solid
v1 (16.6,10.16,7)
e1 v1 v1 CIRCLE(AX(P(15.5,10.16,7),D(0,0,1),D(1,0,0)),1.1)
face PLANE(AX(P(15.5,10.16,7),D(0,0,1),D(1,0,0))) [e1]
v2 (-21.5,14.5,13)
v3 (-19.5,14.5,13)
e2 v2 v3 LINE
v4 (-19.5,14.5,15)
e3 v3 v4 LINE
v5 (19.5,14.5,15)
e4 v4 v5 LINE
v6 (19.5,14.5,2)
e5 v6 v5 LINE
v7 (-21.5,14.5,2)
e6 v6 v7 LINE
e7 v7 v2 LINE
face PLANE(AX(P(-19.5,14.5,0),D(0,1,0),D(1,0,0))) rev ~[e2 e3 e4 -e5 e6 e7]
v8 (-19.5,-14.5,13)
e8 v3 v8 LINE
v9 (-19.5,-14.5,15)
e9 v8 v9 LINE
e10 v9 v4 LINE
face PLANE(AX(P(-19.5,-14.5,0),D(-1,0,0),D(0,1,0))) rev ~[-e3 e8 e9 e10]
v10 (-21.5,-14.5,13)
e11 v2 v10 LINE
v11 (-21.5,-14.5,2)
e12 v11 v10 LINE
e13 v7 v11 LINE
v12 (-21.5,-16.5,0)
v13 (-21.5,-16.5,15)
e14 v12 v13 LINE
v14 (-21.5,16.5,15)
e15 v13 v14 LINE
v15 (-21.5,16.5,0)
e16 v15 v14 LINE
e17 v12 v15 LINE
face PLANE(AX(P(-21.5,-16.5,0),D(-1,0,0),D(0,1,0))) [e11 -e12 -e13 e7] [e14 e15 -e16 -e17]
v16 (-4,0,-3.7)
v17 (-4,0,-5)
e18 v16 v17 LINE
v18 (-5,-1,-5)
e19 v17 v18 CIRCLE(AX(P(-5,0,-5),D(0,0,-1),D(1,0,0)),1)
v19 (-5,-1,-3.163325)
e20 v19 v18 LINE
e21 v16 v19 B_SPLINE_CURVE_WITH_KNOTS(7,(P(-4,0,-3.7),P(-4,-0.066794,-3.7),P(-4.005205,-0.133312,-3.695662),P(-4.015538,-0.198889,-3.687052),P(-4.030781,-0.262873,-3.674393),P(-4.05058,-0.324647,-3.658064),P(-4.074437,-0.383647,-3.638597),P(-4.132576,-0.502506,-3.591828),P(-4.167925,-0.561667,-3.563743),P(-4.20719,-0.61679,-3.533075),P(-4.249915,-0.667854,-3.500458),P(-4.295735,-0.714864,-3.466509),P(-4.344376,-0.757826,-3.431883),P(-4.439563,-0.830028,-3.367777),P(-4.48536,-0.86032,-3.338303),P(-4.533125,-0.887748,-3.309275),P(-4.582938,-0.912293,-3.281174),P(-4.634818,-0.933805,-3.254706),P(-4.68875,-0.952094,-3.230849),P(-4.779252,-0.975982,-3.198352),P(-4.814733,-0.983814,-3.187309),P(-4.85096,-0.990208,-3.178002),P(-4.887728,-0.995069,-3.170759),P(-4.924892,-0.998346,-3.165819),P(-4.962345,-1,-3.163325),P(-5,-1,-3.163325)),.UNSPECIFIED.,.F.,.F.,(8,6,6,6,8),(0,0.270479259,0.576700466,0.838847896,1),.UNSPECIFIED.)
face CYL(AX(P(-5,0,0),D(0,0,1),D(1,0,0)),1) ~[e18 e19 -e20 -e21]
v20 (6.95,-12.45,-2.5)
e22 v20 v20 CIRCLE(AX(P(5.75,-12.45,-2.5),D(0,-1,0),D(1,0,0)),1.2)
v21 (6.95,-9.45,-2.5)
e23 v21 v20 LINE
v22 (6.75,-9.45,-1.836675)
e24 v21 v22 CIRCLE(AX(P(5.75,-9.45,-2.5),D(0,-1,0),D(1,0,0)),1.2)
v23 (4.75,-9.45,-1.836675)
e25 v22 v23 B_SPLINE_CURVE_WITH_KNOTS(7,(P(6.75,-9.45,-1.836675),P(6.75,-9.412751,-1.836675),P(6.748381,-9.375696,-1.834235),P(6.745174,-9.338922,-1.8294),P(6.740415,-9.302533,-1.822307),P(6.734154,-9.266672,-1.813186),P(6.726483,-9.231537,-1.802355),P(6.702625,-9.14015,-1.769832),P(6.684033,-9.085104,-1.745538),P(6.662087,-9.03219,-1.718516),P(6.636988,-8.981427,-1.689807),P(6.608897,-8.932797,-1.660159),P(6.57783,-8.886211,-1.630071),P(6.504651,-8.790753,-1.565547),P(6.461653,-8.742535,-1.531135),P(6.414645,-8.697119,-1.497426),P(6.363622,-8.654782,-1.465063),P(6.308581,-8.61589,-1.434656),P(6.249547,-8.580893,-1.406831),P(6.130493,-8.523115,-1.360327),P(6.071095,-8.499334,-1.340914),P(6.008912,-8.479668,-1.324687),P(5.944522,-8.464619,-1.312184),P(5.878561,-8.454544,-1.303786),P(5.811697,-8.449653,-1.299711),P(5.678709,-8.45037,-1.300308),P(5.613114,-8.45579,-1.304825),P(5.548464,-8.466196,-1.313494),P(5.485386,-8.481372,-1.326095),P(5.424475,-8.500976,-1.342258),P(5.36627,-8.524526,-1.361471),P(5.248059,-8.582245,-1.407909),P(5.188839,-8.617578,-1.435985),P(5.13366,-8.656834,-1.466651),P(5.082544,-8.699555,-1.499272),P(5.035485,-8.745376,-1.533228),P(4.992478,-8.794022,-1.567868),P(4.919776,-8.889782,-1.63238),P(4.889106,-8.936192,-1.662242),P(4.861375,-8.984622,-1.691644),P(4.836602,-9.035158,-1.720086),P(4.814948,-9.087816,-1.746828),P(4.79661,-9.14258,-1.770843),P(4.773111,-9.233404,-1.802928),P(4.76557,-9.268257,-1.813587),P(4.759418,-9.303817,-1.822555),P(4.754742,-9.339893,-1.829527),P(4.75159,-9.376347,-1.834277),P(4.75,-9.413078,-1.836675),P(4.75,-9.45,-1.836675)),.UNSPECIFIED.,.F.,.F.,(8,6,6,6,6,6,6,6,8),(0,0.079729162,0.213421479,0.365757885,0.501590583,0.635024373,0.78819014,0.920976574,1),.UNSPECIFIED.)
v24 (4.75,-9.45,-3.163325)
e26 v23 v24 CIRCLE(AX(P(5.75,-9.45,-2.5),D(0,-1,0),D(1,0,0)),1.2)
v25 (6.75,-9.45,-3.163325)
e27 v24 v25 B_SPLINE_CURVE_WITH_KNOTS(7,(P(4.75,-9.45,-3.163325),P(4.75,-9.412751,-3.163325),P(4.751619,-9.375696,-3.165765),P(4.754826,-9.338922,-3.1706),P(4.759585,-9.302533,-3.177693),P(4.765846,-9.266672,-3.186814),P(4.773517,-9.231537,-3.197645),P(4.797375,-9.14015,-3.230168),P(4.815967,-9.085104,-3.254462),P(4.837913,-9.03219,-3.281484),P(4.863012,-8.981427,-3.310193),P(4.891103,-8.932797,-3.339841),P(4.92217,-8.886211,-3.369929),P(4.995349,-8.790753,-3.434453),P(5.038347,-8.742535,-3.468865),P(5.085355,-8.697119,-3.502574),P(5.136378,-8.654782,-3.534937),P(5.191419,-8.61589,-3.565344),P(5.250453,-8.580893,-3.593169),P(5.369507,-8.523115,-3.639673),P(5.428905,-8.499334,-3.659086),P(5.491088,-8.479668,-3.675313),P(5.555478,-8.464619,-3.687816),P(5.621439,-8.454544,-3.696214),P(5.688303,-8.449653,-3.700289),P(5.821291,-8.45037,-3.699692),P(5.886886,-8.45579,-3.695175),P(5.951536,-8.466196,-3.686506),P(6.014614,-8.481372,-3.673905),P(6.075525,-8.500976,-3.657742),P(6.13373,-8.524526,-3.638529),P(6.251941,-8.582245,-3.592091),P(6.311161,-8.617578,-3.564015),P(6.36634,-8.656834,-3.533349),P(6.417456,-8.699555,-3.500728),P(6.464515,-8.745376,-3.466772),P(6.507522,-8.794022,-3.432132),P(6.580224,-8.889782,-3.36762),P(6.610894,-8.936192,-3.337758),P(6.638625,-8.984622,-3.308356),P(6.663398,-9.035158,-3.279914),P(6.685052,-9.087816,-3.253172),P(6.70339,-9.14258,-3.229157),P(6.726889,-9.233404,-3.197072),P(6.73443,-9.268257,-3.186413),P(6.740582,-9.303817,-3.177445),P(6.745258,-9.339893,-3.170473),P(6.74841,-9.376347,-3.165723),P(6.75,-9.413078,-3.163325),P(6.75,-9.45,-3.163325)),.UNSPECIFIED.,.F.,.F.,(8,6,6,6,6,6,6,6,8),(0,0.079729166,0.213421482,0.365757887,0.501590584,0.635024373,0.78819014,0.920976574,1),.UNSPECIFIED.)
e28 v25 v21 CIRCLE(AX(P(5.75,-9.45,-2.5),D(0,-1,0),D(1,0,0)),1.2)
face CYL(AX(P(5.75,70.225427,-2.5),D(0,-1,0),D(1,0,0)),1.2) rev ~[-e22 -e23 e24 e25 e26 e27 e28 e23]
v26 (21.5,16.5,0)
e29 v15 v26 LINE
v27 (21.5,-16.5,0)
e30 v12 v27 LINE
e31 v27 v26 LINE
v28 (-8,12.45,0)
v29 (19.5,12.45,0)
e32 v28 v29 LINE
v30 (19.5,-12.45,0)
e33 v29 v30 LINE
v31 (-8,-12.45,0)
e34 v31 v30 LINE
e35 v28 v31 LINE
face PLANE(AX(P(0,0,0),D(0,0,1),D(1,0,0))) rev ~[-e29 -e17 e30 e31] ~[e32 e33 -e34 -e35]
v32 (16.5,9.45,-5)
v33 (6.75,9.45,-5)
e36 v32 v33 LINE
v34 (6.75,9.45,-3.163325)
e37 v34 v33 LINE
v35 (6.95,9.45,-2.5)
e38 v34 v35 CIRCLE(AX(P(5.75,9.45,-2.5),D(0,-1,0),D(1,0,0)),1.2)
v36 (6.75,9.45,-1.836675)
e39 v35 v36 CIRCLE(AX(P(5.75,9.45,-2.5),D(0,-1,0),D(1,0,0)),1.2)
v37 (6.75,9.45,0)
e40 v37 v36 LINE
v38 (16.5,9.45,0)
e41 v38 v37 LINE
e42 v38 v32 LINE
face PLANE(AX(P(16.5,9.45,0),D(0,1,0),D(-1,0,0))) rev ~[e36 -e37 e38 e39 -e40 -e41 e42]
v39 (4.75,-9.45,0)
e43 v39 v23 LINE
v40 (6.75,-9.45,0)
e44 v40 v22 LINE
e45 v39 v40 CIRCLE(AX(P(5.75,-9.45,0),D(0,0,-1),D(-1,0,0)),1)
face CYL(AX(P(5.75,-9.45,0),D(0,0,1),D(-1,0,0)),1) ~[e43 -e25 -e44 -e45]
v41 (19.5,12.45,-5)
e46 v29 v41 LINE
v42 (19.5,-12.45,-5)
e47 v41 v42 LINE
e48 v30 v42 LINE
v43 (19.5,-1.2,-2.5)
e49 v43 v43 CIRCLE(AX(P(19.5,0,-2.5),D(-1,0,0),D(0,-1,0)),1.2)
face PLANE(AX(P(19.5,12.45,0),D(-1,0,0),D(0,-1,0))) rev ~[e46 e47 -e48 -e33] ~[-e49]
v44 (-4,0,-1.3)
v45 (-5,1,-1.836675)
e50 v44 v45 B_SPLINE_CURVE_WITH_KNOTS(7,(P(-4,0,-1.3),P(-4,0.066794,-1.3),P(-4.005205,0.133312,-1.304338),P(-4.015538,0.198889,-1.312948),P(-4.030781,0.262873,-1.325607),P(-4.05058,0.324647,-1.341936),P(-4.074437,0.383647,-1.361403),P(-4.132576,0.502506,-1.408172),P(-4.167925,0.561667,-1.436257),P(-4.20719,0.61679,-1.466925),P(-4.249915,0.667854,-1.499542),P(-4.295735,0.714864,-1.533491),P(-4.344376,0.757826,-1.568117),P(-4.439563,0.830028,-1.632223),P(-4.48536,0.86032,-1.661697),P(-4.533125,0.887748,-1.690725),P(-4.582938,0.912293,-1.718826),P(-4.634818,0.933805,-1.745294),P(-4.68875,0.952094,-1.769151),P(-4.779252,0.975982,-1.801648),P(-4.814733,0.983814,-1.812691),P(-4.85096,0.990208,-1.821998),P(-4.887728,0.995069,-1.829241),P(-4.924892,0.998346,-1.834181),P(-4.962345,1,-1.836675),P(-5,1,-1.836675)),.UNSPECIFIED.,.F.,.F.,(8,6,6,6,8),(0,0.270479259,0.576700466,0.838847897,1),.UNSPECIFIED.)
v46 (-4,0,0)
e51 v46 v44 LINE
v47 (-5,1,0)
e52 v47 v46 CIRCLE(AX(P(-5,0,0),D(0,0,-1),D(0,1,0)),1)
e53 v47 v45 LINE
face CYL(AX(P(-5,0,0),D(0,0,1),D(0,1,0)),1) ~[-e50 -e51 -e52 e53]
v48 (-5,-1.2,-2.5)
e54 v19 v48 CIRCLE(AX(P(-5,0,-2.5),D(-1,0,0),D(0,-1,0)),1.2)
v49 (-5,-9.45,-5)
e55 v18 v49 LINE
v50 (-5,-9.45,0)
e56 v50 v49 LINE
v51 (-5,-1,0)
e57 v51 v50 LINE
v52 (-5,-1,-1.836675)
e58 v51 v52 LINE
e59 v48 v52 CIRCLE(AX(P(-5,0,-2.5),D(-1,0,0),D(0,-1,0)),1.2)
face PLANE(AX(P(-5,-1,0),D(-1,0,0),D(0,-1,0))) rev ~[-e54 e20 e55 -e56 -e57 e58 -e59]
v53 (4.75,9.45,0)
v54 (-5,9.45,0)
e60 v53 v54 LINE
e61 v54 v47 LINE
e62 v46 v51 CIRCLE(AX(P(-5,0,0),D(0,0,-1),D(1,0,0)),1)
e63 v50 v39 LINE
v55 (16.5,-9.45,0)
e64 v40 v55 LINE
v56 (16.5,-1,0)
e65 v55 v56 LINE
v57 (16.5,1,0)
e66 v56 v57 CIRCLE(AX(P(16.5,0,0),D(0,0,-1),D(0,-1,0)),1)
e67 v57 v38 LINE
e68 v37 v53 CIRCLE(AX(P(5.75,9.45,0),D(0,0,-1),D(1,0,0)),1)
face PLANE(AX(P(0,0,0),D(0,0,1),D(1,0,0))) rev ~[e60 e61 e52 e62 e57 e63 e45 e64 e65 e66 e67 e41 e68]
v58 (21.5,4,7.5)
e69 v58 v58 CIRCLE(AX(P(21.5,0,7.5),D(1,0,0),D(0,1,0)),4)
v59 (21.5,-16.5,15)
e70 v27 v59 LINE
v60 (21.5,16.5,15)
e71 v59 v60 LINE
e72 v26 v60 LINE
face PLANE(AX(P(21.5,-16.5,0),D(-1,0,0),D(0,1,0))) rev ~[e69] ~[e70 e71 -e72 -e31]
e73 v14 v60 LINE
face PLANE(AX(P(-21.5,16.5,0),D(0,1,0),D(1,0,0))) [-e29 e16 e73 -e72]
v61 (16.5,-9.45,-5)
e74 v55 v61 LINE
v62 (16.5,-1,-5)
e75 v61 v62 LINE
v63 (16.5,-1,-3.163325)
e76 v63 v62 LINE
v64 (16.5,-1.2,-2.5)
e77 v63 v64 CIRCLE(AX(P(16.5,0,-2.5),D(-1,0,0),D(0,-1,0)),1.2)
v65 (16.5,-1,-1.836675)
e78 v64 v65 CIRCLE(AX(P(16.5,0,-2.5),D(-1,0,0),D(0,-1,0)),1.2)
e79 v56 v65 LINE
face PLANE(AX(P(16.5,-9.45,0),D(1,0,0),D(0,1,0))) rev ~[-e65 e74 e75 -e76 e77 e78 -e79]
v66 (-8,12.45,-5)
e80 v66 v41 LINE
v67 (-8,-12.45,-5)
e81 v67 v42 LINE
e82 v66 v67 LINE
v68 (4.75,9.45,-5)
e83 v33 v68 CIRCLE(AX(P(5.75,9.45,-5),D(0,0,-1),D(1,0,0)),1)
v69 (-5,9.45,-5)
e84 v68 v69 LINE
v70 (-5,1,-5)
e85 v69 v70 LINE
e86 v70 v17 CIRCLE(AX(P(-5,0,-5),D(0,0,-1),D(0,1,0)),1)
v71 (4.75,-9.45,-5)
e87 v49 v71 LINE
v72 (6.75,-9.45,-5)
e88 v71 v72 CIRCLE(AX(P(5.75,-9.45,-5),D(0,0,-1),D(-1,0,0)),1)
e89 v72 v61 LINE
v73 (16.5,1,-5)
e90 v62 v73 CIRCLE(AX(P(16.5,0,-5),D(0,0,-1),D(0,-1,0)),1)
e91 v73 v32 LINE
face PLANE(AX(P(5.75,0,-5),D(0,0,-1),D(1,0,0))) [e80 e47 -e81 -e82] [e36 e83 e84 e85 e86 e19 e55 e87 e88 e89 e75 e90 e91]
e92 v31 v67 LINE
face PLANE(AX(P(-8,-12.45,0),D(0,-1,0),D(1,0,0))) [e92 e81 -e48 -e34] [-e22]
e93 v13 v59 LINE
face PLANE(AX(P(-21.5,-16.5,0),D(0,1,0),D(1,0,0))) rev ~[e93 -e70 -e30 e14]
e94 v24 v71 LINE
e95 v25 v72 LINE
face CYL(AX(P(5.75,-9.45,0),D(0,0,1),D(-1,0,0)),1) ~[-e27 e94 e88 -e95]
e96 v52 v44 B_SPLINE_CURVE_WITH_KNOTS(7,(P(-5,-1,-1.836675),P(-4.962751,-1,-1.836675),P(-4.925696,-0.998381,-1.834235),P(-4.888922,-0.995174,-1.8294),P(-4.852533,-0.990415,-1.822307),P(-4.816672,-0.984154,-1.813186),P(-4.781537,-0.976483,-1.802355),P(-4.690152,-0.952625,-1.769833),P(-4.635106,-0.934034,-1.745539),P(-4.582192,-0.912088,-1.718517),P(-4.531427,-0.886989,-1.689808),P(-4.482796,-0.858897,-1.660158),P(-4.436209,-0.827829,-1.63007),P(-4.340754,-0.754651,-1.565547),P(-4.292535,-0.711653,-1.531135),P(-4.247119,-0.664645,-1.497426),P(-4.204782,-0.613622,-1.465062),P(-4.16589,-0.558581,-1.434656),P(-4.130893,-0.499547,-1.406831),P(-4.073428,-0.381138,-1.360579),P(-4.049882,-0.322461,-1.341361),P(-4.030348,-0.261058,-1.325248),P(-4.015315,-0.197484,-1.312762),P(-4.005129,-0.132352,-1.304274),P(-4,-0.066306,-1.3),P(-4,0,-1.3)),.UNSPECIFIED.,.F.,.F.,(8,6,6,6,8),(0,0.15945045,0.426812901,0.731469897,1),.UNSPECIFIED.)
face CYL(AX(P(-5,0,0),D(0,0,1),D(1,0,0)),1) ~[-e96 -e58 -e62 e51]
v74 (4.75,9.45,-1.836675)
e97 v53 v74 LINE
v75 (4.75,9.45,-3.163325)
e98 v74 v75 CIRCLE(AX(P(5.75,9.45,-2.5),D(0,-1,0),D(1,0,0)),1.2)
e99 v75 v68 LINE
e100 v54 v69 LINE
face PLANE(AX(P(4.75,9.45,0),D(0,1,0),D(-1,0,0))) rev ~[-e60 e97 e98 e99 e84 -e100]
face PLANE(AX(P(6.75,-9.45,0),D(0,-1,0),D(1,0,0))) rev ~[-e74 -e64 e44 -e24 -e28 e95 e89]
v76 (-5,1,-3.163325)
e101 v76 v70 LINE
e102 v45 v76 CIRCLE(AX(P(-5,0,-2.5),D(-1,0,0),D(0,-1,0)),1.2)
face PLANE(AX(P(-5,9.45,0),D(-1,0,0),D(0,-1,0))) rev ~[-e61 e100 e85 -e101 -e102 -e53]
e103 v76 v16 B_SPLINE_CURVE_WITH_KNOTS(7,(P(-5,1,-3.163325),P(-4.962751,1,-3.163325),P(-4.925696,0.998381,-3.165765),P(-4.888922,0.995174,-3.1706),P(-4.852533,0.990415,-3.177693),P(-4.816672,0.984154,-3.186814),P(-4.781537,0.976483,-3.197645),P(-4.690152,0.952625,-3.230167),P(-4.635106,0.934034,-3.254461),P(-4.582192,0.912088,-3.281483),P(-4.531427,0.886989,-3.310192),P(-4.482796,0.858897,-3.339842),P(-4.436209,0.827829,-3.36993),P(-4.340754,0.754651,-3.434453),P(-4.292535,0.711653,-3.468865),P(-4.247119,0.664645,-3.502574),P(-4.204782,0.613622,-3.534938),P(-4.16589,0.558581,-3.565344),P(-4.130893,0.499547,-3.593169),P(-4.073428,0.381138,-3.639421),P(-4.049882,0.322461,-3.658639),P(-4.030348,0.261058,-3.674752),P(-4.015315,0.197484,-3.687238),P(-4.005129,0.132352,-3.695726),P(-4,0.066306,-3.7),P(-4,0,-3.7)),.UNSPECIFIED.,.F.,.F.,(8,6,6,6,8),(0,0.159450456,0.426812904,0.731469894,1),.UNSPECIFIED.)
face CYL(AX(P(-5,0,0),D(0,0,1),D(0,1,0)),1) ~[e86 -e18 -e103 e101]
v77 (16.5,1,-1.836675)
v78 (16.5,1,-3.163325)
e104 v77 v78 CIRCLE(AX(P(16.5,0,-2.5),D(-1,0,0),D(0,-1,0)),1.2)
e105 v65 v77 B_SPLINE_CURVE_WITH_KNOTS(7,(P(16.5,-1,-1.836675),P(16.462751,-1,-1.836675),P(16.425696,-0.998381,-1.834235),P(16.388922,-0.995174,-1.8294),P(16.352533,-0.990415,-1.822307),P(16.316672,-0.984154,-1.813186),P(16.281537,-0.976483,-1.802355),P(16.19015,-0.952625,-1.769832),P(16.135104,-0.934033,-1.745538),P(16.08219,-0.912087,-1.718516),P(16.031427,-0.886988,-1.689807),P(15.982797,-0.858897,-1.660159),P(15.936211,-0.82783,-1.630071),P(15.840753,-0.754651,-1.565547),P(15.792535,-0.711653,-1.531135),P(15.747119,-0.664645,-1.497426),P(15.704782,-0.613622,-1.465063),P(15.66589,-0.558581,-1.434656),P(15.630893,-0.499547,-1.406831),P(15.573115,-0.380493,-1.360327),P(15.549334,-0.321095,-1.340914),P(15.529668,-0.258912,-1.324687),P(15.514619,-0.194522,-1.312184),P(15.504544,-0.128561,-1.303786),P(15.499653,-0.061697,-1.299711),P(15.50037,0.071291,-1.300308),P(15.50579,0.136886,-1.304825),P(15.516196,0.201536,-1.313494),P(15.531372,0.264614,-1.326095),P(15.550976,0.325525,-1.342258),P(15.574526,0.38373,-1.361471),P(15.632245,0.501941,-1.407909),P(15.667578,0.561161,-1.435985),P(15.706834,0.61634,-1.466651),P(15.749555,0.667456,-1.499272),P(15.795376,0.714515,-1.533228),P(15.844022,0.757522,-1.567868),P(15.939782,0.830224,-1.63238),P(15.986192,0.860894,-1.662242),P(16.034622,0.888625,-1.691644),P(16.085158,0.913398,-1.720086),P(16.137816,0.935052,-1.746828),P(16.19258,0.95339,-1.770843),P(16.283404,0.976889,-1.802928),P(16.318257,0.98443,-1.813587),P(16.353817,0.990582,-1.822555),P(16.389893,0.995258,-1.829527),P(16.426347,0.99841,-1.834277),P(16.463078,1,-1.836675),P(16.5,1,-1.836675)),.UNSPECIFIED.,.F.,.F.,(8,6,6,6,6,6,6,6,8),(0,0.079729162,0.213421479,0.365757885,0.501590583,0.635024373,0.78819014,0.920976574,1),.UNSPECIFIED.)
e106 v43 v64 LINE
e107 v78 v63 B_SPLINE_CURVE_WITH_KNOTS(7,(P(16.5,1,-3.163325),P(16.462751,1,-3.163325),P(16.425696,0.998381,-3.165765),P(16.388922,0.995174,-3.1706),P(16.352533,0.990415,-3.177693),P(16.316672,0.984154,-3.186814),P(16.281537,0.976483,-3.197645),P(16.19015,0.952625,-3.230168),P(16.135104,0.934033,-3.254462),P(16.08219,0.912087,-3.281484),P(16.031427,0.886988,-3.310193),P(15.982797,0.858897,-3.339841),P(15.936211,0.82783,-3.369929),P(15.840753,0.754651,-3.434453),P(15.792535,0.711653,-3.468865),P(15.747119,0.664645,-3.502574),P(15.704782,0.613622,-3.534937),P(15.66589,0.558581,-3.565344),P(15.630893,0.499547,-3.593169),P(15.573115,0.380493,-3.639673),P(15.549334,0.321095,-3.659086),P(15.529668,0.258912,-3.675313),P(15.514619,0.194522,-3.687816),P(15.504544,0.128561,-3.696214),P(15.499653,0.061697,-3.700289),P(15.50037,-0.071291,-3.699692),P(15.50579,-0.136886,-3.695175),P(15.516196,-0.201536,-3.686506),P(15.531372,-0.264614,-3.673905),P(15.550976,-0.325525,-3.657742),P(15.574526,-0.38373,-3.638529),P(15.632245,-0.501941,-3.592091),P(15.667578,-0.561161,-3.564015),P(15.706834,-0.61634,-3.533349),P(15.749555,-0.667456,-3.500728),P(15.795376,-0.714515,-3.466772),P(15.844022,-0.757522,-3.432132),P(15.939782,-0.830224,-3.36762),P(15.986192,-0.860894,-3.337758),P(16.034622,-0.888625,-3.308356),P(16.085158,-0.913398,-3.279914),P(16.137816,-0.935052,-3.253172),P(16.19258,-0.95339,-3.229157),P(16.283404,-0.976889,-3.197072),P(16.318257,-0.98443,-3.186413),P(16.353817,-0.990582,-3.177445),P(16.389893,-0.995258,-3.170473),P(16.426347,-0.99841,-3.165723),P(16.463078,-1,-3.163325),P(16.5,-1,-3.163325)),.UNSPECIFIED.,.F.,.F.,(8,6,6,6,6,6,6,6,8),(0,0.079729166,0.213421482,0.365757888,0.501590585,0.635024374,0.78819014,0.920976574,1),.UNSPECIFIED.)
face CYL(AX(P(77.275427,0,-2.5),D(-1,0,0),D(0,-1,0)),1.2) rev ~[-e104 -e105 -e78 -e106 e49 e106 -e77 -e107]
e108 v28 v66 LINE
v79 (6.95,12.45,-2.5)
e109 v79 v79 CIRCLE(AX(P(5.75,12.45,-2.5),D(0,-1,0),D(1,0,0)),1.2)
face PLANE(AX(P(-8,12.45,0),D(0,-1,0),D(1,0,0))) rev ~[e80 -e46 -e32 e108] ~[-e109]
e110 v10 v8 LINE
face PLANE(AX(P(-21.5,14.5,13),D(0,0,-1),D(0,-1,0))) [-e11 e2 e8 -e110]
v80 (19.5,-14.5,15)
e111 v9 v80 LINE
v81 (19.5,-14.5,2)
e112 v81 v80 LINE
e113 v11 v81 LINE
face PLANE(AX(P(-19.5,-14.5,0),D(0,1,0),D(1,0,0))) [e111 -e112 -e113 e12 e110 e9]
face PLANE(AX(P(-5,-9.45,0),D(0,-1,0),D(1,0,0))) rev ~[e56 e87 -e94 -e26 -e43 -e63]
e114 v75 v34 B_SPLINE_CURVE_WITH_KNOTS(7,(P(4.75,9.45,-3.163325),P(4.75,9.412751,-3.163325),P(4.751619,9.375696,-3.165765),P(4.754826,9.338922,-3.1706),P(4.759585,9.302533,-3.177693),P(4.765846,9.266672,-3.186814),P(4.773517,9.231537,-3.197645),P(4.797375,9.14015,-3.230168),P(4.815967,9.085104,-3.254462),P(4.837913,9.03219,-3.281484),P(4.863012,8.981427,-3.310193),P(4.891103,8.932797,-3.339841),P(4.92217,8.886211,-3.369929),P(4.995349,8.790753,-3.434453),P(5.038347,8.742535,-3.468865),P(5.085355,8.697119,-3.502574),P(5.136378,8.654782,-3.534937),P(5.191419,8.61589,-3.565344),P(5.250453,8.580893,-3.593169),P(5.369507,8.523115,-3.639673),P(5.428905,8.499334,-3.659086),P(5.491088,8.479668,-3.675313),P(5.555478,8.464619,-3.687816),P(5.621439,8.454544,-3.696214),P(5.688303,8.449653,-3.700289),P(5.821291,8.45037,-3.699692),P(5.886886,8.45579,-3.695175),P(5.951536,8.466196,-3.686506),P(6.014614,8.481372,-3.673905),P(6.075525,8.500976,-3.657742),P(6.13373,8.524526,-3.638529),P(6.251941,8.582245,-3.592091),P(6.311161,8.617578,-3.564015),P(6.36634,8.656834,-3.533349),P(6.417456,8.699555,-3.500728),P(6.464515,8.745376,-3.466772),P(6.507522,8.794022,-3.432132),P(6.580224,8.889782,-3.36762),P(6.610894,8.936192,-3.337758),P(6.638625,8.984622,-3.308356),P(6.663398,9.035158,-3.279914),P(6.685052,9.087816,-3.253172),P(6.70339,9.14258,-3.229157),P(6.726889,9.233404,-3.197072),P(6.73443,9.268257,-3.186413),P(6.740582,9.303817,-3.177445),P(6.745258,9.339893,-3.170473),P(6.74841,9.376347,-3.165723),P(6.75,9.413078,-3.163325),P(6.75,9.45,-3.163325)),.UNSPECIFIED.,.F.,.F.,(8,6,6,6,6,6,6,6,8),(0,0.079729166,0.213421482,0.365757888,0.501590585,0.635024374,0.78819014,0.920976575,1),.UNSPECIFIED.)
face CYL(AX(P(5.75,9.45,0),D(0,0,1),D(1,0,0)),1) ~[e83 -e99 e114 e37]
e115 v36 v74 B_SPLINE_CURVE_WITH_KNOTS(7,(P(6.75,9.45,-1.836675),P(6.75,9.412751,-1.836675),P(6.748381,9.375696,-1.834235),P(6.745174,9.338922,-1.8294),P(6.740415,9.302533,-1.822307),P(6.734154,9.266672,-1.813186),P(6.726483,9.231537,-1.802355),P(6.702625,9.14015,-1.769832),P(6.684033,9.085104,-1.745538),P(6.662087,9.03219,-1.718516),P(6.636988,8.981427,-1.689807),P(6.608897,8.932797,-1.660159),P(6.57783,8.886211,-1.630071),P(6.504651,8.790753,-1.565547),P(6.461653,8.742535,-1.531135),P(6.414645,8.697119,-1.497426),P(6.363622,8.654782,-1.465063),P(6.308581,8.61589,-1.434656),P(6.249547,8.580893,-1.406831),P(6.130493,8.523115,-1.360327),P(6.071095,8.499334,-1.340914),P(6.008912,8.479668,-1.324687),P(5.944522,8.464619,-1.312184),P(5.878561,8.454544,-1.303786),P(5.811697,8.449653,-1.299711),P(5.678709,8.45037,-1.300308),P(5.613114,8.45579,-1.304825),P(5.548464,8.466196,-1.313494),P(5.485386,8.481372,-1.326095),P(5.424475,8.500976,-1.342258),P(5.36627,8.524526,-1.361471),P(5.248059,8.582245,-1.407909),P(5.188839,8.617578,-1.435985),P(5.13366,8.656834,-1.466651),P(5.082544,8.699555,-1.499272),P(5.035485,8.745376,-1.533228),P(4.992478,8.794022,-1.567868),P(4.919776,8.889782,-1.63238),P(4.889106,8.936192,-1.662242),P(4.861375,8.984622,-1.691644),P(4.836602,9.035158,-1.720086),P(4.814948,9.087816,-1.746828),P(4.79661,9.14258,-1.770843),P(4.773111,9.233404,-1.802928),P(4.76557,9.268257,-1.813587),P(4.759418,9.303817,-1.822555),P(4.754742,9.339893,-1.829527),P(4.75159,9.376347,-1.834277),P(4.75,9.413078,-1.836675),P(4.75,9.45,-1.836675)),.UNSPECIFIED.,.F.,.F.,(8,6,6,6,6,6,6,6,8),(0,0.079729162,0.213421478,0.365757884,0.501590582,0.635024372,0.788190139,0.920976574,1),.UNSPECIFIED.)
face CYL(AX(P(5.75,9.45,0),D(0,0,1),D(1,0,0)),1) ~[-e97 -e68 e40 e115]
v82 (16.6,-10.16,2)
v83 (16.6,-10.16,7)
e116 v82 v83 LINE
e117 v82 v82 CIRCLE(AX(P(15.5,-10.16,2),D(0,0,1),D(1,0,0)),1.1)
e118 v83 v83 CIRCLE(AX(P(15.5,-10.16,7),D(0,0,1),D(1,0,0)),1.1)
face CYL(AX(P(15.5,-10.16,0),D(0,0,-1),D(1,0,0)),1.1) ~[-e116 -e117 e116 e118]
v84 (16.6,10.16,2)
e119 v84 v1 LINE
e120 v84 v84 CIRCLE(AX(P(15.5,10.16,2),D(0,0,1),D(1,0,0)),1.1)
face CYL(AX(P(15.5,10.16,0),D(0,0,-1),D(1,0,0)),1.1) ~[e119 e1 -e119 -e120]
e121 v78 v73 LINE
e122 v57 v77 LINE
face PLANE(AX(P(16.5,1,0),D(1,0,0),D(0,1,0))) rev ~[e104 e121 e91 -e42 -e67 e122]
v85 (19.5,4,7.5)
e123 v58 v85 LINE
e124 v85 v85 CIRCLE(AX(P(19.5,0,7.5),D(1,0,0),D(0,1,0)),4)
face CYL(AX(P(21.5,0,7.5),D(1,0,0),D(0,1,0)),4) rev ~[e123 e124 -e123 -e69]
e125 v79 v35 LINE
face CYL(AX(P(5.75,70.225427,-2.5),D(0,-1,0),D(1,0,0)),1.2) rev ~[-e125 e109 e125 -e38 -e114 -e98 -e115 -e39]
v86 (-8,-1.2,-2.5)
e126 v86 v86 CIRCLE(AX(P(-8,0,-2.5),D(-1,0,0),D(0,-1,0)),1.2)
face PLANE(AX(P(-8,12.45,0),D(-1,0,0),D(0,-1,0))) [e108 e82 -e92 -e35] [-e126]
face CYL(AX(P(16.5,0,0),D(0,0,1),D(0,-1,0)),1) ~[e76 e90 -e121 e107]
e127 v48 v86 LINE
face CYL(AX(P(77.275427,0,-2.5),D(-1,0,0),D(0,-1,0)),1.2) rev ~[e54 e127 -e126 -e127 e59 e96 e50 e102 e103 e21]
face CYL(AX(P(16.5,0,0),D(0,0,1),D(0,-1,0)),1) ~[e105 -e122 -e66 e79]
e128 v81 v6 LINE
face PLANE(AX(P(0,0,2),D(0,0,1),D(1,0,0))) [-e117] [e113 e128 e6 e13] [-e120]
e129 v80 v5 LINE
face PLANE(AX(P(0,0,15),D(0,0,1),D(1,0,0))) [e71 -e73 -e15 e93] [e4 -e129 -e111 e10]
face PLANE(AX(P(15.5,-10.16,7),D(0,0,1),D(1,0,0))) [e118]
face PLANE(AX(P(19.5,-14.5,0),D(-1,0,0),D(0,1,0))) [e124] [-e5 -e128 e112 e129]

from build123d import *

# Parameters (mm, degrees)
F0_W     = 43
F0_H     = 33
F0_W_2   = 39
F0_H_2   = 29
F1_DEPTH = 15
F0_R     = 1.1
F2_DEPTH = 2
F3_DEPTH = 7
F4_R     = 4
F5_DEPTH = 2
F6_W     = 29
F6_H     = 11
F7_DEPTH = 2
F8_W     = 27.5
F8_H     = 24.9
F9_DEPTH = 5
F11_D    = 2.4
F13_D    = 2.4


with BuildPart() as f1:
    # F0 (on Top) → F1 (new body)
    with BuildSketch(Plane.XY):
        Rectangle(F0_W, F0_H)
        Rectangle(F0_W_2, F0_H_2, mode=Mode.SUBTRACT)
    extrude(amount=F1_DEPTH)

    # F0 (on Top) → F2 (join)
    with BuildSketch(Plane.XY):
        Rectangle(F0_W_2, F0_H_2)
        with Locations((15.5, -10.16)):
            Circle(F0_R, mode=Mode.SUBTRACT)
        with Locations((15.5, 10.16)):
            Circle(F0_R, mode=Mode.SUBTRACT)
    extrude(amount=F2_DEPTH)

    # F0 (on Top) → F3 (join)
    with BuildSketch(Plane.XY):
        with Locations((15.5, -10.16)):
            Circle(F0_R)
        with Locations((15.5, 10.16)):
            Circle(F0_R)
    extrude(amount=F3_DEPTH)

    # F4 (on face) → F5 (cut, through all)
    with BuildSketch(Plane.YZ.offset(21.5)):
        with Locations((0, 7.5)):
            Circle(F4_R)
    extrude(amount=-F5_DEPTH, mode=Mode.SUBTRACT)

    # F6 (on face) → F7 (cut, through all)
    with BuildSketch(Plane(origin=(-21.5, 0, 0), x_dir=(0, -1, 0), z_dir=(-1, 0, 0))):
        with Locations((0, 7.5)):
            Rectangle(F6_W, F6_H)
    extrude(amount=-F7_DEPTH, mode=Mode.SUBTRACT)

    # F8 (on face) → F9 (join)
    with BuildSketch(Plane(origin=(0, 0, 0), x_dir=(1, 0, 0), z_dir=(0, 0, -1))):
        with Locations((5.75, 0)):
            Rectangle(F8_W, F8_H)
        with BuildLine():
            Line((6.75, 9.45), (16.5, 9.45))
            Line((16.5, 9.45), (16.5, 1))
            ThreePointArc((16.5, 1), (17.2071067812, 0.7071067812), (17.5, 0))
            ThreePointArc((17.5, 0), (17.2071067812, -0.7071067812), (16.5, -1))
            Line((16.5, -1), (16.5, -9.45))
            Line((16.5, -9.45), (6.75, -9.45))
            ThreePointArc((6.75, -9.45), (5.75, -10.45), (4.75, -9.45))
            Line((4.75, -9.45), (-5, -9.45))
            Line((-5, -9.45), (-5, -1))
            ThreePointArc((-5, -1), (-6, 0), (-5, 1))
            Line((-5, 1), (-5, 9.45))
            Line((-5, 9.45), (4.75, 9.45))
            ThreePointArc((4.75, 9.45), (5.75, 10.45), (6.75, 9.45))
        make_face(mode=Mode.SUBTRACT)
        with BuildLine():
            ThreePointArc((17.5, 0), (17.2071067812, 0.7071067812), (16.5, 1))
            Line((16.5, 1), (16.5, -1))
            ThreePointArc((16.5, -1), (17.2071067812, -0.7071067812), (17.5, 0))
        make_face()
        with BuildLine():
            Line((16.5, -1), (16.5, 1))
            ThreePointArc((16.5, 1), (15.5, 0), (16.5, -1))
        make_face()
        with BuildLine():
            Line((4.75, -9.45), (6.75, -9.45))
            ThreePointArc((6.75, -9.45), (5.75, -8.45), (4.75, -9.45))
        make_face()
        with BuildLine():
            ThreePointArc((4.75, -9.45), (5.75, -10.45), (6.75, -9.45))
            Line((6.75, -9.45), (4.75, -9.45))
        make_face()
        with BuildLine():
            ThreePointArc((4.75, 9.45), (5.75, 8.45), (6.75, 9.45))
            Line((6.75, 9.45), (4.75, 9.45))
        make_face()
        with BuildLine():
            Line((4.75, 9.45), (6.75, 9.45))
            ThreePointArc((6.75, 9.45), (5.75, 10.45), (4.75, 9.45))
        make_face()
        with BuildLine():
            ThreePointArc((-4, 0), (-4.2928932188, 0.7071067812), (-5, 1))
            Line((-5, 1), (-5, -1))
            ThreePointArc((-5, -1), (-4.2928932188, -0.7071067812), (-4, 0))
        make_face()
        with BuildLine():
            Line((-5, -1), (-5, 1))
            ThreePointArc((-5, 1), (-6, 0), (-5, -1))
        make_face()
    extrude(amount=F9_DEPTH)

    # F11 (through all)
    with Locations(Plane.YZ.offset(19.5)):
        with Locations((0, -2.5)):
            Hole(F11_D / 2)

    # F13 (through all)
    with Locations(Plane(origin=(0, 12.45, 0), x_dir=(-1, 0, 0), z_dir=(0, 1, 0))):
        with Locations((-5.75, -2.5)):
            Hole(F13_D / 2)


solid = f1.part
